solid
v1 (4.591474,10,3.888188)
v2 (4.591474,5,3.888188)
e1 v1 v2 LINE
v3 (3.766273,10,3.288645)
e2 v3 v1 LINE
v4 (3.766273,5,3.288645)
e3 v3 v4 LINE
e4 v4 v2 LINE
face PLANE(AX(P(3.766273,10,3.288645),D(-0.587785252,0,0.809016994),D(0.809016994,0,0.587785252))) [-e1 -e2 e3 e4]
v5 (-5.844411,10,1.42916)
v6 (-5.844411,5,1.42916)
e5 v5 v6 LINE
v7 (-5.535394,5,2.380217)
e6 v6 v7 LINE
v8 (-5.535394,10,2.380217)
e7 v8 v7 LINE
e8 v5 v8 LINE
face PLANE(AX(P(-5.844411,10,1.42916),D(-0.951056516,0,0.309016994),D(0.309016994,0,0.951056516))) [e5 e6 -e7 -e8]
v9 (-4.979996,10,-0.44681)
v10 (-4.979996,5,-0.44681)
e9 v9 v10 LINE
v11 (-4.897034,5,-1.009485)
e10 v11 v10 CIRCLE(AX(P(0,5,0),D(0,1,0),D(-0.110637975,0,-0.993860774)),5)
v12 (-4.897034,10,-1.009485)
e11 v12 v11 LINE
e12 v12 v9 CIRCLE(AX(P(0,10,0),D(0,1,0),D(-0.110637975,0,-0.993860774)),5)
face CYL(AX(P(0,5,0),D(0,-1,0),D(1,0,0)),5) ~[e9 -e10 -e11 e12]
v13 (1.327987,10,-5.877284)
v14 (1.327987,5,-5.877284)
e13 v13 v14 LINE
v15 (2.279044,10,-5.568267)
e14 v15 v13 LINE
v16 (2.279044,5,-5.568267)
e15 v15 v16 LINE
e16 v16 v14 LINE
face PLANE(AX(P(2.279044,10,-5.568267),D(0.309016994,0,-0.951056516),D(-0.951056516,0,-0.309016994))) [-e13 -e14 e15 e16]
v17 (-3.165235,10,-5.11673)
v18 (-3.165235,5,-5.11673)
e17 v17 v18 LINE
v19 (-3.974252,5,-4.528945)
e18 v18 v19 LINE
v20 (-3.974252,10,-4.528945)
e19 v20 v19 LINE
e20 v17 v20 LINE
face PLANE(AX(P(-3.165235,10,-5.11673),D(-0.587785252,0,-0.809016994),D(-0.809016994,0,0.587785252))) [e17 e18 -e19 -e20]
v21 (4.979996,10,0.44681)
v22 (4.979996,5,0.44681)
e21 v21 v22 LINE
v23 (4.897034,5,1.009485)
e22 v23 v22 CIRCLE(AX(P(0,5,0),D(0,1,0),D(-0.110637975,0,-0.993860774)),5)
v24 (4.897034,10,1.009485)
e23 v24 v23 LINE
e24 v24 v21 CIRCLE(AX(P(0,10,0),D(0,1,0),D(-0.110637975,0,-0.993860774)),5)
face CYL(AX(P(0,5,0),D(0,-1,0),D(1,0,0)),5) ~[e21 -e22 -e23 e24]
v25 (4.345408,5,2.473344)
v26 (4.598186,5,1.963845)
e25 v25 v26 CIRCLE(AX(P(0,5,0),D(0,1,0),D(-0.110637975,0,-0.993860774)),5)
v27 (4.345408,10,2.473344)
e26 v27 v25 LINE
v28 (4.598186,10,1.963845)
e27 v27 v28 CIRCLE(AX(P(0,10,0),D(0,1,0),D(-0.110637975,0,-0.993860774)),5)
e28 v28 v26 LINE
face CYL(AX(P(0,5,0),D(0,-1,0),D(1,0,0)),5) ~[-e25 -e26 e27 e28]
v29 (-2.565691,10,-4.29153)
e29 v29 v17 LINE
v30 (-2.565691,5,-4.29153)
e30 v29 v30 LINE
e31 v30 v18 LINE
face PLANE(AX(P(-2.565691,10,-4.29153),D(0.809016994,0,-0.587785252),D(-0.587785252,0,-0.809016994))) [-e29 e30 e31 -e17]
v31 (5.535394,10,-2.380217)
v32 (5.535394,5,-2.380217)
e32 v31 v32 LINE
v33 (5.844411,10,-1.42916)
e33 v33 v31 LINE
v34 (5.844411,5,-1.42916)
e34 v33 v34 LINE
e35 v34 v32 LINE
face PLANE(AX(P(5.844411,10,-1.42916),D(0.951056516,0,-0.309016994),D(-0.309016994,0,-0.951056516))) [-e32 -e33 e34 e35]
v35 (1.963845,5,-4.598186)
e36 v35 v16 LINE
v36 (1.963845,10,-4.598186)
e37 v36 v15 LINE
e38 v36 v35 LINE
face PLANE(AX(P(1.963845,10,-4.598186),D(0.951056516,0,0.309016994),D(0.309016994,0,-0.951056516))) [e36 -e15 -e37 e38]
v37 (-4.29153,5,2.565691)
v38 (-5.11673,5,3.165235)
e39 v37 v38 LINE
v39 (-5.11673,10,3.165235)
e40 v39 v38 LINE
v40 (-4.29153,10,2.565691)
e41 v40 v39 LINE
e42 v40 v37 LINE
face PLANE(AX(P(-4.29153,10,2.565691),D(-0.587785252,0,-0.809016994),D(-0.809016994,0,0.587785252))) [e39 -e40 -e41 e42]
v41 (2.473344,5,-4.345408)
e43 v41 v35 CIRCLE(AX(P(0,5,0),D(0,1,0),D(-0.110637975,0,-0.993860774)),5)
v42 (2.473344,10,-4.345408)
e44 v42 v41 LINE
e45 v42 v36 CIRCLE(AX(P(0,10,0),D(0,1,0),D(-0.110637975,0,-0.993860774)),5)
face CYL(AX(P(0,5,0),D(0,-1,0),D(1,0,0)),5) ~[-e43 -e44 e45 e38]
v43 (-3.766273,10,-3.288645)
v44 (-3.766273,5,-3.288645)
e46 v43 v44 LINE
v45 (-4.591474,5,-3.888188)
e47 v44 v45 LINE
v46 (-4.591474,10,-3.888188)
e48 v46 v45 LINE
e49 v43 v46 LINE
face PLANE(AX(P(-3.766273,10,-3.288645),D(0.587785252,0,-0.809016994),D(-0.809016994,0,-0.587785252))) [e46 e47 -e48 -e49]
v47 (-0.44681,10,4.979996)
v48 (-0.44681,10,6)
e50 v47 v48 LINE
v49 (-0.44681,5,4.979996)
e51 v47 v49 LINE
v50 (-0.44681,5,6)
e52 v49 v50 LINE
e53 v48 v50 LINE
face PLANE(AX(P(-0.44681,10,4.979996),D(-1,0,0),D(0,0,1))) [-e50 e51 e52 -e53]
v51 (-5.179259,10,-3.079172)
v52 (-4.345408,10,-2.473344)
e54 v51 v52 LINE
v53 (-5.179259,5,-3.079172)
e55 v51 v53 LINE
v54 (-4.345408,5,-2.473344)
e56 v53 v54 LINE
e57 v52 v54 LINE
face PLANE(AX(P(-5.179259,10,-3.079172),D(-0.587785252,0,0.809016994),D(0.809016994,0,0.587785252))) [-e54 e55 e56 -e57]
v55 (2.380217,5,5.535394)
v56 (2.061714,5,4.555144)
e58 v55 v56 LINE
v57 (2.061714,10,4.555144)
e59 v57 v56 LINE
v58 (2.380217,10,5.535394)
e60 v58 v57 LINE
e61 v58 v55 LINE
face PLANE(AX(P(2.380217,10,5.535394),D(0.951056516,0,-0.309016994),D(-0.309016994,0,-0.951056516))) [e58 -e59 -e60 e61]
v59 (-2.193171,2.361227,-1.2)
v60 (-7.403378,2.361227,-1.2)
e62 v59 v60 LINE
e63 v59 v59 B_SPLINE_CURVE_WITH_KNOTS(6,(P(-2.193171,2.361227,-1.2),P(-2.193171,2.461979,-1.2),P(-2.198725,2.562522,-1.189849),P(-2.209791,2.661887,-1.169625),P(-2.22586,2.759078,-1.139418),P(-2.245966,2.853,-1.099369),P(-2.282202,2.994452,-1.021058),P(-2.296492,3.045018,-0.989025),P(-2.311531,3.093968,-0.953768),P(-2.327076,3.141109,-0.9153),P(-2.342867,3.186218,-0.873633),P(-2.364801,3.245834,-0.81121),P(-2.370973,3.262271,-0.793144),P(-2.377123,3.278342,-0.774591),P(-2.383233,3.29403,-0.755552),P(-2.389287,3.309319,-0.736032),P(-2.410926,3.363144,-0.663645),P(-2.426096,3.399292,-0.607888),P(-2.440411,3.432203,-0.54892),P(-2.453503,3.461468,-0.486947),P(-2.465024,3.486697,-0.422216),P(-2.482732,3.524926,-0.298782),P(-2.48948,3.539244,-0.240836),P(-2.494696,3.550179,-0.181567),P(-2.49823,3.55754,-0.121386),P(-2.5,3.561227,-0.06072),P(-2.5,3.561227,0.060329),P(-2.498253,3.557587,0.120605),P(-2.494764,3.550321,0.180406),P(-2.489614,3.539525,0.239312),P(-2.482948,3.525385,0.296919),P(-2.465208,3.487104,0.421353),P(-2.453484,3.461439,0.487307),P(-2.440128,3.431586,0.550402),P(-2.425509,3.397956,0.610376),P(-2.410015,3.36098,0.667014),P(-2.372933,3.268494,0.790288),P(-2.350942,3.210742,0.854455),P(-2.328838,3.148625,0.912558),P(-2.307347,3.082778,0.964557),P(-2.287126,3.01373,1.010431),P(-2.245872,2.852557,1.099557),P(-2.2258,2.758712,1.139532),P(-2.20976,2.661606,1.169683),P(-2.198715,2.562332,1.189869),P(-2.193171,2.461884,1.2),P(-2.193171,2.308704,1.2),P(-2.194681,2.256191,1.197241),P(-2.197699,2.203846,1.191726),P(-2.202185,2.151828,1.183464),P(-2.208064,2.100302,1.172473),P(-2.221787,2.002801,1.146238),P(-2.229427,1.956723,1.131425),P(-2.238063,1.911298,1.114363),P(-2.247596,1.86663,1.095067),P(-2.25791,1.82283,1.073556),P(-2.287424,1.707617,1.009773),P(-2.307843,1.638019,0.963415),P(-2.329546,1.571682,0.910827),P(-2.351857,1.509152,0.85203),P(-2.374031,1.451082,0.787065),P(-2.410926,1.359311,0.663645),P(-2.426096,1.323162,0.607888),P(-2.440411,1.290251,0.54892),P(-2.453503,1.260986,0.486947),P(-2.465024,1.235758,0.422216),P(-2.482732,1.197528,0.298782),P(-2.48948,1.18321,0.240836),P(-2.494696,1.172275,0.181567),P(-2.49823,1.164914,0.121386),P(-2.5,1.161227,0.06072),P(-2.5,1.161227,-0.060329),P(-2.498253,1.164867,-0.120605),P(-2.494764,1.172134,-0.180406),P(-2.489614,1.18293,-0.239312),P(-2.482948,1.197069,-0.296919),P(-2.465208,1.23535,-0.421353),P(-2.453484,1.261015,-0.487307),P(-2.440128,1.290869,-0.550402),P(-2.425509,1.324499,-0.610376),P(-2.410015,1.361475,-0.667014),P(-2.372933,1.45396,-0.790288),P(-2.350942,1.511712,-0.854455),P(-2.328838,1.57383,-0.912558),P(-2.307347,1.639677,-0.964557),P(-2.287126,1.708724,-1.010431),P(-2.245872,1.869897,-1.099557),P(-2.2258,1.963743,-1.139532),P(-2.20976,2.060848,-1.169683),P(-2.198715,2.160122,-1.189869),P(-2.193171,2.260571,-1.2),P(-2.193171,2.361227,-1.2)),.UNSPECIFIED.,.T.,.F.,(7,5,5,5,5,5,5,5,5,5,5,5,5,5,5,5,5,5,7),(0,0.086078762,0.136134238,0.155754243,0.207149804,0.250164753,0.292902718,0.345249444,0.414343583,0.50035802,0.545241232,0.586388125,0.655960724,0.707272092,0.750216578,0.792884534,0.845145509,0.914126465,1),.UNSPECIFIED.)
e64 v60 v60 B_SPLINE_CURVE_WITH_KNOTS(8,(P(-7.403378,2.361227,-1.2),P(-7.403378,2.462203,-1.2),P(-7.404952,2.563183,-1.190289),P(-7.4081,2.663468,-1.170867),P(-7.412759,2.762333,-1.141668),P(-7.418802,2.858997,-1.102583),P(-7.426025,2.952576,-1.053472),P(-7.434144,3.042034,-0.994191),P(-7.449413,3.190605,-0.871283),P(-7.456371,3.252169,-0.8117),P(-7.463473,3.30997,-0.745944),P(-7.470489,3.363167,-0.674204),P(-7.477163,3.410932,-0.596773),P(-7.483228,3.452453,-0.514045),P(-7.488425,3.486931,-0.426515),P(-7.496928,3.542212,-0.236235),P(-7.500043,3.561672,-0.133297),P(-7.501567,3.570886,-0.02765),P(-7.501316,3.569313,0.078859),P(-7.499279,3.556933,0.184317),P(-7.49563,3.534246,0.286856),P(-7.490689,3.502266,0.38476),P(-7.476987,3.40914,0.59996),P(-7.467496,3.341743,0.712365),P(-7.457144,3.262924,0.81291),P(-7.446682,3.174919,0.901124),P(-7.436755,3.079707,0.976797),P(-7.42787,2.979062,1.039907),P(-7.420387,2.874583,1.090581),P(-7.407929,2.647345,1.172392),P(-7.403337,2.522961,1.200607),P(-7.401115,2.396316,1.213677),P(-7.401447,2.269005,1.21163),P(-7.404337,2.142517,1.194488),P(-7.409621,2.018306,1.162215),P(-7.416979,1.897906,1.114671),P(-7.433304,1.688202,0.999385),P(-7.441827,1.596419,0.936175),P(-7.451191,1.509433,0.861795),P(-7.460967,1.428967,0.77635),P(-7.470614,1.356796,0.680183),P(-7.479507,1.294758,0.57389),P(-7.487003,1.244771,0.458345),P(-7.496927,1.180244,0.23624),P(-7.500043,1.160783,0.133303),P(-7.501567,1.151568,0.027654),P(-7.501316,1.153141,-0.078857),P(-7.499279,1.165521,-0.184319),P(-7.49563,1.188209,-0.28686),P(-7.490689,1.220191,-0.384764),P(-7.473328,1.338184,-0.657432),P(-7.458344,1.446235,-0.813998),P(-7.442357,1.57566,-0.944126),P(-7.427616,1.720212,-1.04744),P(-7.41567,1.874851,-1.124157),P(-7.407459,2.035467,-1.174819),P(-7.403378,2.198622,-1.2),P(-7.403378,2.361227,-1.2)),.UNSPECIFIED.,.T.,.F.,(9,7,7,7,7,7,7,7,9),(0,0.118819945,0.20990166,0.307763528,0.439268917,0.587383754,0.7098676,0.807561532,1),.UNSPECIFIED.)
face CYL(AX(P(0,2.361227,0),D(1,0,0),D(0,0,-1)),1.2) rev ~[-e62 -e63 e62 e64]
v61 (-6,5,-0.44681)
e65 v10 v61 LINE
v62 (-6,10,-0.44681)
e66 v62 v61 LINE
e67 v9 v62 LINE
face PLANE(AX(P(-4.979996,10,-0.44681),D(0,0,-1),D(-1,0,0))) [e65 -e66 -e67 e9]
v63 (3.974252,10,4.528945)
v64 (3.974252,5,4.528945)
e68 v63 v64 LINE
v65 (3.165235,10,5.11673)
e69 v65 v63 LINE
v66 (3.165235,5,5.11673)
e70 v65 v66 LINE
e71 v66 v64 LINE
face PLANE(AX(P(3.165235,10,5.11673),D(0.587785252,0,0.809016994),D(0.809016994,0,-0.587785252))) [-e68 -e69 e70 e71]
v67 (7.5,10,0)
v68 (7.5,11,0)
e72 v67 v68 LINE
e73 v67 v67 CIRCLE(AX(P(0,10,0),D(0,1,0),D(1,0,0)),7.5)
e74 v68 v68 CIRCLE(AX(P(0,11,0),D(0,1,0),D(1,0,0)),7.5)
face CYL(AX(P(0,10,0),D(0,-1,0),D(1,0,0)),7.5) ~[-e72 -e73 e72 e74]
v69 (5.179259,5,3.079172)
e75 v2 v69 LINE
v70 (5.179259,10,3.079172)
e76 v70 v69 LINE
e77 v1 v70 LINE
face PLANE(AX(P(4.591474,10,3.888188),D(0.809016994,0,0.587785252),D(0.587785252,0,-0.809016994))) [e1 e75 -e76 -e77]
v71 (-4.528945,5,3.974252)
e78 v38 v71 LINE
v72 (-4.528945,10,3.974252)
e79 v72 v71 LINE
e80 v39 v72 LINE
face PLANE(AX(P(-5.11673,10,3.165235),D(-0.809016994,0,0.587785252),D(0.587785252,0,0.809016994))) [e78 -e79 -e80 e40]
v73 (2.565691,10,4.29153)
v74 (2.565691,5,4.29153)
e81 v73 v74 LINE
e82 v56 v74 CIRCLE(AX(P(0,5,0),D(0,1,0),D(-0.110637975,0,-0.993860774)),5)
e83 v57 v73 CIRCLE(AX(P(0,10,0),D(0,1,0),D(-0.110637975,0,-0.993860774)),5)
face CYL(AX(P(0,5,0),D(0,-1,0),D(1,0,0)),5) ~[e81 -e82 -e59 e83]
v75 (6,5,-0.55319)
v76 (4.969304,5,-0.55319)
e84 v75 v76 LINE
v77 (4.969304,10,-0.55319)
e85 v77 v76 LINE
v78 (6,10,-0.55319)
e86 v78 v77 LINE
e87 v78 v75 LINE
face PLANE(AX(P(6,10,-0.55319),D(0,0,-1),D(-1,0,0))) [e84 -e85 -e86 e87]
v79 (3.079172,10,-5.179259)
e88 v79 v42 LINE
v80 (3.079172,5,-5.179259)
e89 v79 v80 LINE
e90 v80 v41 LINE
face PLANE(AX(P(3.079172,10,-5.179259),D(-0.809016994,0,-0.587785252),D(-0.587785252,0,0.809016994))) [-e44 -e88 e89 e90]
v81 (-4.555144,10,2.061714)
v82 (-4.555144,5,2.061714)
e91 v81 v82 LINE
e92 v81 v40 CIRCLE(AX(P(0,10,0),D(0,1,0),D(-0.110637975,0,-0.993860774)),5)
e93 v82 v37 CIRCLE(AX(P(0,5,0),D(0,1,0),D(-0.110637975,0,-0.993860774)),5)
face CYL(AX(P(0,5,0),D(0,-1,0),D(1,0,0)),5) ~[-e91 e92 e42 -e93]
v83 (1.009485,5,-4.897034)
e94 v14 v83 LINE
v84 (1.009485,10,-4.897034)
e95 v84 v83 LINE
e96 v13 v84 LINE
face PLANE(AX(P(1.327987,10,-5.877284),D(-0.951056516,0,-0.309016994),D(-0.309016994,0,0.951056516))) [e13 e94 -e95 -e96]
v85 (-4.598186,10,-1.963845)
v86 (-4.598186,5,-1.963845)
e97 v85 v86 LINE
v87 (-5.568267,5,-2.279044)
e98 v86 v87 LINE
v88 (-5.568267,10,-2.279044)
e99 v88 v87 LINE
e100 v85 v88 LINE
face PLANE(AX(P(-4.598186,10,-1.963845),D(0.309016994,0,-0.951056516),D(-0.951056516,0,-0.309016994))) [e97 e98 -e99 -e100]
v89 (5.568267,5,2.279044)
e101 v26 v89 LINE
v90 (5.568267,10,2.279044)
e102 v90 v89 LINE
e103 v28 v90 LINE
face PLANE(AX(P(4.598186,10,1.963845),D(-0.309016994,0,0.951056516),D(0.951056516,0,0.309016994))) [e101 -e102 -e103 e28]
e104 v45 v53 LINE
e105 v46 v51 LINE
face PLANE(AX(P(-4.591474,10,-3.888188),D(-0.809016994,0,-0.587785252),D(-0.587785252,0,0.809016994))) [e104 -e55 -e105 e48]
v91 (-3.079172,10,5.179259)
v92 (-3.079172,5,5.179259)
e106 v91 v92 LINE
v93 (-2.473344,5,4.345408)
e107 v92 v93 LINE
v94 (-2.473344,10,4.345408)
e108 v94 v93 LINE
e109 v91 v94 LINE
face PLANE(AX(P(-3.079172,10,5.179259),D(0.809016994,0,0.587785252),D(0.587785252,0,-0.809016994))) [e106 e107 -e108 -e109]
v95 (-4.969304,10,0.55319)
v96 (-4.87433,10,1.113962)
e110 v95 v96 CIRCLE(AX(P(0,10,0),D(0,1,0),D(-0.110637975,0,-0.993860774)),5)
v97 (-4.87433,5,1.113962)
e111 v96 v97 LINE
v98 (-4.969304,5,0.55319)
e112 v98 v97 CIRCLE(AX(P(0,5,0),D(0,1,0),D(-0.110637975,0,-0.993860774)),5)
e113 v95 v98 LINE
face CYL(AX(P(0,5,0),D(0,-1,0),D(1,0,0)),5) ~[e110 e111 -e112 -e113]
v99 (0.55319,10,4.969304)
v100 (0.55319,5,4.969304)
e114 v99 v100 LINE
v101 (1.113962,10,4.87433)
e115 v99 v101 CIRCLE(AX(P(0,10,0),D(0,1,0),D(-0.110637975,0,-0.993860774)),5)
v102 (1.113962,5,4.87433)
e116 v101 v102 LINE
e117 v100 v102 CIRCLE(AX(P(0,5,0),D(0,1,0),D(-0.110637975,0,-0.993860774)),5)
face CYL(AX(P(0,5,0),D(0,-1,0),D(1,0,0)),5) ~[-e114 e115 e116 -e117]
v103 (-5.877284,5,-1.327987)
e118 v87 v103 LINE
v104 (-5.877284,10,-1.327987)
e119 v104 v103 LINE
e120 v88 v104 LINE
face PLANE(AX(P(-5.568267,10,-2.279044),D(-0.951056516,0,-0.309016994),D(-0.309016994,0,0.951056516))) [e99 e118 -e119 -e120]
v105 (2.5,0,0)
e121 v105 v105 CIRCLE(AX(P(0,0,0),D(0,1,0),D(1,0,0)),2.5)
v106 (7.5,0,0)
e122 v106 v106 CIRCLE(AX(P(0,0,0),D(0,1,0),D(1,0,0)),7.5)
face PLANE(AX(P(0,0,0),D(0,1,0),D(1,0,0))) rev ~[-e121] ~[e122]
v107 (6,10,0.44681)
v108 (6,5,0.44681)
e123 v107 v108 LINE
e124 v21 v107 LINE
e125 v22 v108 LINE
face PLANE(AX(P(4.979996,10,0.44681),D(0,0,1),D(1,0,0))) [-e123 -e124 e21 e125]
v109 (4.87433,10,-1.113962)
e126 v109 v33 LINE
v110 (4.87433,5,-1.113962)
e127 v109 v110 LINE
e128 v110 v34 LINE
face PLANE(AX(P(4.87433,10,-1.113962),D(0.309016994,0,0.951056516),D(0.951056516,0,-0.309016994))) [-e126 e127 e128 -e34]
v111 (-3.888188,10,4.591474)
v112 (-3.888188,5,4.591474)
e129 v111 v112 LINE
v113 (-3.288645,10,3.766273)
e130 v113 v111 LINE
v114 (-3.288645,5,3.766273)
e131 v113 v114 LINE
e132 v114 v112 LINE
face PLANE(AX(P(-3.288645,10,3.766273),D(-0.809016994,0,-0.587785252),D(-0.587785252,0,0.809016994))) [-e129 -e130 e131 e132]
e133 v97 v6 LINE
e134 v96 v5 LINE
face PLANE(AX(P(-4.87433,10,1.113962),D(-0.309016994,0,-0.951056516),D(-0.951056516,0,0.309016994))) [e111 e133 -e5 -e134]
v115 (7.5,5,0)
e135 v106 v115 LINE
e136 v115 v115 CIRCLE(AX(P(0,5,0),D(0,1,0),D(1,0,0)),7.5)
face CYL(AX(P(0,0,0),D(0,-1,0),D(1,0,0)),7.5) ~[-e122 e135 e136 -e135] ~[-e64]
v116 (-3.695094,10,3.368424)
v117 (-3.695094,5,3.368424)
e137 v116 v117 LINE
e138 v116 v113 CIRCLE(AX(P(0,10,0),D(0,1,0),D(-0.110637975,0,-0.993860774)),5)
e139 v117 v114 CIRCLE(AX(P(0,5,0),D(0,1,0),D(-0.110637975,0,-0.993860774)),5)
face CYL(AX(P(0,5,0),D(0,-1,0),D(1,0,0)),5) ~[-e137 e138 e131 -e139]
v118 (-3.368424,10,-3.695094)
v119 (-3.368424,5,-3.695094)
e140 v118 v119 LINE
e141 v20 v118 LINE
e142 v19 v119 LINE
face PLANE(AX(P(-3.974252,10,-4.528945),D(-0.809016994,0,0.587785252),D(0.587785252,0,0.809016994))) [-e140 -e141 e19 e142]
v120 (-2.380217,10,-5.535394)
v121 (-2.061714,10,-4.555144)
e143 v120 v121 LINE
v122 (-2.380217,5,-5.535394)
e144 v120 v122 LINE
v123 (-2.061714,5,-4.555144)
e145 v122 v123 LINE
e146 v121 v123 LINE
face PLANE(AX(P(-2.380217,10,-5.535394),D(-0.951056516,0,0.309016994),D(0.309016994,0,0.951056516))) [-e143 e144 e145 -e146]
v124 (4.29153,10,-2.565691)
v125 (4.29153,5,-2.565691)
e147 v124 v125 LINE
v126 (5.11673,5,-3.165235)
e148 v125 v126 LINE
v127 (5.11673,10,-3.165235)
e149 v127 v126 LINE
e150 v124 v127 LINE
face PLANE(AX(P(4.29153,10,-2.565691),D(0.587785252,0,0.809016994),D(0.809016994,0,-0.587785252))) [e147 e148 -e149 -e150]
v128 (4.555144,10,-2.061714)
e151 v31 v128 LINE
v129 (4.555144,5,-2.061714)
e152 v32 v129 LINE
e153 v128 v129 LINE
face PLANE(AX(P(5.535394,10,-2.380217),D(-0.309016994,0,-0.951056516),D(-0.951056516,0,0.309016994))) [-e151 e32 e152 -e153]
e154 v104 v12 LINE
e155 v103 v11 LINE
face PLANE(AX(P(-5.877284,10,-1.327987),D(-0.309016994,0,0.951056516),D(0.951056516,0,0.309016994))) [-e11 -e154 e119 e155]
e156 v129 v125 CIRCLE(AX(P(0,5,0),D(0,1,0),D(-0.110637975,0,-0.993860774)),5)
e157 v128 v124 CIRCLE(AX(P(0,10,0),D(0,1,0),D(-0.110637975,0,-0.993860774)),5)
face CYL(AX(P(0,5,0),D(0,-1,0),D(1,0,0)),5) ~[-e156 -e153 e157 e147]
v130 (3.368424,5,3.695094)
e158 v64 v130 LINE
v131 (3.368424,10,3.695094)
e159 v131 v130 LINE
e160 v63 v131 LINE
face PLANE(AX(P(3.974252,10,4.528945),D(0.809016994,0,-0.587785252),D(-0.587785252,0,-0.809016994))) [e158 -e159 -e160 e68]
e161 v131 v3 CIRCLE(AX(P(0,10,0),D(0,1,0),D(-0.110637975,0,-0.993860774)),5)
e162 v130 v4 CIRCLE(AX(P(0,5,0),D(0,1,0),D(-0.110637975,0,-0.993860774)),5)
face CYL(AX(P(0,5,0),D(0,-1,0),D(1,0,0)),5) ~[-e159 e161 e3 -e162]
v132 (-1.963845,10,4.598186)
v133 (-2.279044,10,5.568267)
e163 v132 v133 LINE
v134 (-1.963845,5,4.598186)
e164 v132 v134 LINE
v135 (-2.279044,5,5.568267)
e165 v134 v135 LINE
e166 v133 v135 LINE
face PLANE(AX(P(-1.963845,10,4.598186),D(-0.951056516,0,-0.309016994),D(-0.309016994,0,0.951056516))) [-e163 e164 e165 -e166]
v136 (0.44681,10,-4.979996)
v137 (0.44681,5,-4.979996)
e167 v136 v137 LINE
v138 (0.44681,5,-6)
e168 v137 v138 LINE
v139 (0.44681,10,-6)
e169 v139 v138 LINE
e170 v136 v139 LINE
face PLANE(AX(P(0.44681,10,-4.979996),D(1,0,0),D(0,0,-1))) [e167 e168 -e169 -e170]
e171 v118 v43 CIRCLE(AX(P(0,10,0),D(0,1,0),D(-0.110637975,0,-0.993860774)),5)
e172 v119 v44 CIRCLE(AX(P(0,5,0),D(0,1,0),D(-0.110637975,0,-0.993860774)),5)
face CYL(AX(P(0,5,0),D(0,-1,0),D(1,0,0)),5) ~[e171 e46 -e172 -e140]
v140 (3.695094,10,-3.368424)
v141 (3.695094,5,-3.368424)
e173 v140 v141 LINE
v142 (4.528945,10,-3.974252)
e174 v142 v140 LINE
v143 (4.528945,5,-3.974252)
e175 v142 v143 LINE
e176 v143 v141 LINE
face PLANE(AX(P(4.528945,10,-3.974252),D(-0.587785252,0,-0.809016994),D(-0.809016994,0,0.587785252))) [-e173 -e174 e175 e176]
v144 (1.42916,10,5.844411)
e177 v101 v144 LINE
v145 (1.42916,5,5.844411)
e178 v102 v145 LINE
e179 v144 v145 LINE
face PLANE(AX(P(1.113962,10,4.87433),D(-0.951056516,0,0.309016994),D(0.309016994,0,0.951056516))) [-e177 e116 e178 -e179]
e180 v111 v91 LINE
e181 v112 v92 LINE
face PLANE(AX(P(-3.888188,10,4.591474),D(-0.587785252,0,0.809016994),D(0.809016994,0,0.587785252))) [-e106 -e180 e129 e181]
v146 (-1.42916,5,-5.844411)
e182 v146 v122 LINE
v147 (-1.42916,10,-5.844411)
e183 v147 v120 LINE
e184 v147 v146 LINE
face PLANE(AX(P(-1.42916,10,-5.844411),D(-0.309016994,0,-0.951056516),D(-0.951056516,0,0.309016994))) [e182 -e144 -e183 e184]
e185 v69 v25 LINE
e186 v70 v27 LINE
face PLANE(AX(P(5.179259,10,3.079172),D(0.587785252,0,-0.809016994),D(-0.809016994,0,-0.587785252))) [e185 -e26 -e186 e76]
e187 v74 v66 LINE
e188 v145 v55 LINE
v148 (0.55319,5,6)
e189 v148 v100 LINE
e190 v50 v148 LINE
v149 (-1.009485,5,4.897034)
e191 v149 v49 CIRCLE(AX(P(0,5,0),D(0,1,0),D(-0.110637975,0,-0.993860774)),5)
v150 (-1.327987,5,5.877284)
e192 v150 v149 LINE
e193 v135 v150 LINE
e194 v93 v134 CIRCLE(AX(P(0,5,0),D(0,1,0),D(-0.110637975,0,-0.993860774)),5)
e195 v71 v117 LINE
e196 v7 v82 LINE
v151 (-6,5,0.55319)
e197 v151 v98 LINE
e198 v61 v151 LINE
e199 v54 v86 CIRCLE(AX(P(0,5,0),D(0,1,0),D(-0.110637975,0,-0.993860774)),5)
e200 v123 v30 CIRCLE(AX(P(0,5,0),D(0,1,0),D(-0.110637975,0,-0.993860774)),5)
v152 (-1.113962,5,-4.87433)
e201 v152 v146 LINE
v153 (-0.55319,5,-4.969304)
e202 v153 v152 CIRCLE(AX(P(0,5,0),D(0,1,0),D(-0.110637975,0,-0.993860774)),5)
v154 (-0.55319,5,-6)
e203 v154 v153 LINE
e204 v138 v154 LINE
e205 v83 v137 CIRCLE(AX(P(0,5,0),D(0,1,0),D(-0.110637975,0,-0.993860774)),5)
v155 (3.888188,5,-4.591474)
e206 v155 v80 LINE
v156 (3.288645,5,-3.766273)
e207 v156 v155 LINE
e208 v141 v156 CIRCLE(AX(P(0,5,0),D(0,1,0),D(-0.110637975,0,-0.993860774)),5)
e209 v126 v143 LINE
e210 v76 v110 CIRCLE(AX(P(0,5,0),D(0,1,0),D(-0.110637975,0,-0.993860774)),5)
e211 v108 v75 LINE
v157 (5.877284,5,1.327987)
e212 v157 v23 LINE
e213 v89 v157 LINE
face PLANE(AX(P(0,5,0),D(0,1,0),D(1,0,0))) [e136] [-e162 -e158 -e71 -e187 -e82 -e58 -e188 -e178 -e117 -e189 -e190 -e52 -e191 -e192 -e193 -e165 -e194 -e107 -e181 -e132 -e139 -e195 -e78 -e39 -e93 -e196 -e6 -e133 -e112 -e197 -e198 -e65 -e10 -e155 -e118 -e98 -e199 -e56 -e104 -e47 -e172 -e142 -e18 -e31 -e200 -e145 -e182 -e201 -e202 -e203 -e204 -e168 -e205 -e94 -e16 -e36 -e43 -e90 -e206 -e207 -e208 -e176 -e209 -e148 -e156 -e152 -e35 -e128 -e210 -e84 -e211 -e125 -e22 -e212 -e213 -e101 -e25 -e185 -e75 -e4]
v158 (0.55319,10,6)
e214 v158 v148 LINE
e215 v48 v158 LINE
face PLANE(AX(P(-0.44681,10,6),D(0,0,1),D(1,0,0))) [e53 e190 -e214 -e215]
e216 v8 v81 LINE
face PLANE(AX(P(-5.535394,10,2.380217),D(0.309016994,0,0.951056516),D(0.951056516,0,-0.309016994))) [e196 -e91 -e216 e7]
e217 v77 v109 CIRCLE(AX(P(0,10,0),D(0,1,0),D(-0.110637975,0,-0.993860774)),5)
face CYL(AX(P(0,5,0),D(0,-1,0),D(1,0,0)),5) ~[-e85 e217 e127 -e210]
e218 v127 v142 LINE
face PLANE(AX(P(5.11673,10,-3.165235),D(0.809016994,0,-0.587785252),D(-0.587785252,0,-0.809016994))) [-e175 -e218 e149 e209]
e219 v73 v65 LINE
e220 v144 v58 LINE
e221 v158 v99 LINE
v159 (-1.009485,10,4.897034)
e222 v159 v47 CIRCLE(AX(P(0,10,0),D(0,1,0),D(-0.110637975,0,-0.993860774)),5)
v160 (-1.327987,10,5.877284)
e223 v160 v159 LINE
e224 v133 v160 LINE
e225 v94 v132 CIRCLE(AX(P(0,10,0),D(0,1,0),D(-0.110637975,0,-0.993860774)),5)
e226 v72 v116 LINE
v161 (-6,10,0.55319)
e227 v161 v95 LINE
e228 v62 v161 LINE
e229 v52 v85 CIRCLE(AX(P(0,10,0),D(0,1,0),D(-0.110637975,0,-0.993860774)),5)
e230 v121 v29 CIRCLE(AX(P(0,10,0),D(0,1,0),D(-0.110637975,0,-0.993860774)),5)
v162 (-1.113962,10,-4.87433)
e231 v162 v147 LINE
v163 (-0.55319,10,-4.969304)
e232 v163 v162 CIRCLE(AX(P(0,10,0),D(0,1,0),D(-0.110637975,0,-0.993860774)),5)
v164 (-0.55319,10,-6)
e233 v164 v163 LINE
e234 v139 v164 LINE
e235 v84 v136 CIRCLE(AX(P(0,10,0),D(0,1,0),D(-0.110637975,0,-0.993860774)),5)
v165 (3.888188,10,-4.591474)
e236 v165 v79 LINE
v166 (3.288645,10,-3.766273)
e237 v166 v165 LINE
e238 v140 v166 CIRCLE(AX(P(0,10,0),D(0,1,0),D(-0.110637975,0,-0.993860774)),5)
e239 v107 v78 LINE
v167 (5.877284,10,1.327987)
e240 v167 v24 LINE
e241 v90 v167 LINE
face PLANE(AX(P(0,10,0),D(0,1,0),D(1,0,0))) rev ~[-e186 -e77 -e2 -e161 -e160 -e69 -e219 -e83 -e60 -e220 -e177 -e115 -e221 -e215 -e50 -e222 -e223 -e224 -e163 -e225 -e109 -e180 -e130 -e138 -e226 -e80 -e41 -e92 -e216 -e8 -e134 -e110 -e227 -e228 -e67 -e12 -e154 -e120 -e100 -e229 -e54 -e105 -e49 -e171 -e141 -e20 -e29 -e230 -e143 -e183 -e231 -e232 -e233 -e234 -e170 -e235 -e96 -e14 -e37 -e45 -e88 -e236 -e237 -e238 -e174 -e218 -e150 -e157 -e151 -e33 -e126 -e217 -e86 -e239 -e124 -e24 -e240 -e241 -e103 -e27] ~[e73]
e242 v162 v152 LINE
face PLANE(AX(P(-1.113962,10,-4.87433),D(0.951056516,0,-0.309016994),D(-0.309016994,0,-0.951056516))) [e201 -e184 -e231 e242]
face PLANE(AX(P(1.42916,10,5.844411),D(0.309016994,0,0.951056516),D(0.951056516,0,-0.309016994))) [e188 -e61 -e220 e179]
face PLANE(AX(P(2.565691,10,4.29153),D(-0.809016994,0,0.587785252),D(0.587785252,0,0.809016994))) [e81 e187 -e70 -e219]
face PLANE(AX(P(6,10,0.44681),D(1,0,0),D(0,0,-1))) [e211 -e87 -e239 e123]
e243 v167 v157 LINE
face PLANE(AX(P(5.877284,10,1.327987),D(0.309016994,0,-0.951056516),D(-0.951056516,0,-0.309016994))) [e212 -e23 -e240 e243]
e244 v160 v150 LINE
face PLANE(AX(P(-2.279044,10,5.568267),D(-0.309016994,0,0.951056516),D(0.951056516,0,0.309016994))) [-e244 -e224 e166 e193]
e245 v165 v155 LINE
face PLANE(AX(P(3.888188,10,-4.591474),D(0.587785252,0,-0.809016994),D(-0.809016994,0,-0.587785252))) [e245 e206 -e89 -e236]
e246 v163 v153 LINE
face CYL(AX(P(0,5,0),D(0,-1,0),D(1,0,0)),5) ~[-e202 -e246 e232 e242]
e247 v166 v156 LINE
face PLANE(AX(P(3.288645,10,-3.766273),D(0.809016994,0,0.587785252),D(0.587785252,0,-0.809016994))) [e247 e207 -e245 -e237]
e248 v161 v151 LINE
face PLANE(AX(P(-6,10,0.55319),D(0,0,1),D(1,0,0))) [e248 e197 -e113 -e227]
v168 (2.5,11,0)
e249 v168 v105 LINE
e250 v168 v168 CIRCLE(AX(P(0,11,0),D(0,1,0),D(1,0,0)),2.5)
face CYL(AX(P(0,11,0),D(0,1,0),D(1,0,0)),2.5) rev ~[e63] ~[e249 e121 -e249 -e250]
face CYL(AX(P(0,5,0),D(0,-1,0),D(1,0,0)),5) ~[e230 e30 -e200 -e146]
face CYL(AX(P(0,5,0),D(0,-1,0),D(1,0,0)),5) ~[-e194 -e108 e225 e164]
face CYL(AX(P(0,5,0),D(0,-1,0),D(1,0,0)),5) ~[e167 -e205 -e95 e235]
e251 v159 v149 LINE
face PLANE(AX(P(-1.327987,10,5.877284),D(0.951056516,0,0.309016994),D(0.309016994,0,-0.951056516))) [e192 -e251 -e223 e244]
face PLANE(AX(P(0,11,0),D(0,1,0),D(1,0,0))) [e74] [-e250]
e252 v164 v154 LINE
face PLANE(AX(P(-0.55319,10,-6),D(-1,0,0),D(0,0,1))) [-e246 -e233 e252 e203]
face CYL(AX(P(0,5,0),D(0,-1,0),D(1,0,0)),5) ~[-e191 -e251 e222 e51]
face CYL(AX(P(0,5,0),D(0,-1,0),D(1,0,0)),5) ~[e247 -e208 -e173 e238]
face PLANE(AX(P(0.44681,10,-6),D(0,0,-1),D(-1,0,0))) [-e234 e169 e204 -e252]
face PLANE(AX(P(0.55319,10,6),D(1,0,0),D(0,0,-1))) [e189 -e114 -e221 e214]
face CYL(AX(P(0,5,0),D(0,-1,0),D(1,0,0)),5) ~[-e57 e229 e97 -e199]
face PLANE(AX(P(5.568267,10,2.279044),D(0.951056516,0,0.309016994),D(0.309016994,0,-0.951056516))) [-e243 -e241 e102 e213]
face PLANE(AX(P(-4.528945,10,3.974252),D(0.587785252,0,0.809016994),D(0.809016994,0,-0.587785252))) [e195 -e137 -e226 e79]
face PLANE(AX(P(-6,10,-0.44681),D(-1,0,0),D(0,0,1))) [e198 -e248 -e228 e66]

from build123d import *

# Parameters (mm, degrees)
IZIM1_R                     = 7.5
Y_KSEKLIK_EKSTR_ZYON1_DEPTH = 5
IZIM6_R                     = 5
Y_KSEKLIK_EKSTR_ZYON5_DEPTH = 5
Y_KSEKLIK_EKSTR_ZYON6_DEPTH = 7
DAIRESEL_KAPLAMA2_COUNT     = 20
IZIM8_R                     = 7.5
Y_KSEKLIK_EKSTR_ZYON7_DEPTH = 1
IZIM9_R                     = 2.5
KES_EKSTR_ZYON2_DEPTH       = 21
IZIM10_R                    = 1.2
KES_EKSTR_ZYON3_DEPTH       = 21


with BuildPart() as part:
    # Çizim1 → Yükseklik-Ekstrüzyon1 (new body)
    with BuildSketch(Plane(origin=(0, 0, 0), x_dir=(1, 0, 0), z_dir=(0, 1, 0))):
        Circle(IZIM1_R)
    extrude(amount=Y_KSEKLIK_EKSTR_ZYON1_DEPTH)

    # Çizim6 → Yükseklik-Ekstrüzyon5 (add)
    with BuildSketch(Plane(origin=(0, 5, 0), x_dir=(1, 0, 0), z_dir=(0, 1, 0))):
        Circle(IZIM6_R)
    extrude(amount=Y_KSEKLIK_EKSTR_ZYON5_DEPTH)

    # Çizim7 → Yükseklik-Ekstrüzyon6 (add)
    with BuildSketch(Plane(origin=(0, 10, 0), x_dir=(1, 0, 0), z_dir=(0, 1, 0))):
        with BuildLine():
            Line((0, 6), (0, 5))
            ThreePointArc((0, 5), (0.223628846, 4.99499651), (0.446810123, 4.979996056))
            Line((0.446810123, 4.979996056), (0.446810123, 6))
            Line((0.446810123, 6), (0, 6))
        make_face()
        with BuildLine():
            ThreePointArc((-0.553189877, 4.969303871), (-0.277020438, 4.99232007), (0, 5))
            Line((0, 5), (0, 6))
            Line((0, 6), (-0.553189877, 6))
            Line((-0.553189877, 6), (-0.553189877, 4.969303871))
        make_face()
    y_kseklik_ekstr_zyon6 = extrude(amount=-Y_KSEKLIK_EKSTR_ZYON6_DEPTH)

    # Dairesel Kaplama2: Yükseklik-Ekstrüzyon6 ×20 about axis
    dairesel_kaplama2_axis = Axis((0, 0, 0), (0, 1, 0))
    for i in range(1, DAIRESEL_KAPLAMA2_COUNT):
        add(y_kseklik_ekstr_zyon6.rotate(dairesel_kaplama2_axis, i * 360 / DAIRESEL_KAPLAMA2_COUNT))

    # Çizim8 → Yükseklik-Ekstrüzyon7 (add)
    with BuildSketch(Plane(origin=(0, 10, 0), x_dir=(1, 0, 0), z_dir=(0, 1, 0))):
        Circle(IZIM8_R)
    extrude(amount=Y_KSEKLIK_EKSTR_ZYON7_DEPTH)

    # Çizim9 → Kes-Ekstrüzyon2 (cut)
    with BuildSketch(Plane(origin=(0, 11, 0), x_dir=(1, 0, 0), z_dir=(0, 1, 0))):
        Circle(IZIM9_R)
    extrude(amount=-KES_EKSTR_ZYON2_DEPTH, mode=Mode.SUBTRACT)

    # Çizim10 → Kes-Ekstrüzyon3 (cut)
    with BuildSketch(Plane(origin=(0, 0, 0), x_dir=(0, 0, -1), z_dir=(1, 0, 0))):
        with Locations((0, 2.361227205)):
            Circle(IZIM10_R)
    extrude(amount=-KES_EKSTR_ZYON3_DEPTH, mode=Mode.SUBTRACT)


solid = part.part
